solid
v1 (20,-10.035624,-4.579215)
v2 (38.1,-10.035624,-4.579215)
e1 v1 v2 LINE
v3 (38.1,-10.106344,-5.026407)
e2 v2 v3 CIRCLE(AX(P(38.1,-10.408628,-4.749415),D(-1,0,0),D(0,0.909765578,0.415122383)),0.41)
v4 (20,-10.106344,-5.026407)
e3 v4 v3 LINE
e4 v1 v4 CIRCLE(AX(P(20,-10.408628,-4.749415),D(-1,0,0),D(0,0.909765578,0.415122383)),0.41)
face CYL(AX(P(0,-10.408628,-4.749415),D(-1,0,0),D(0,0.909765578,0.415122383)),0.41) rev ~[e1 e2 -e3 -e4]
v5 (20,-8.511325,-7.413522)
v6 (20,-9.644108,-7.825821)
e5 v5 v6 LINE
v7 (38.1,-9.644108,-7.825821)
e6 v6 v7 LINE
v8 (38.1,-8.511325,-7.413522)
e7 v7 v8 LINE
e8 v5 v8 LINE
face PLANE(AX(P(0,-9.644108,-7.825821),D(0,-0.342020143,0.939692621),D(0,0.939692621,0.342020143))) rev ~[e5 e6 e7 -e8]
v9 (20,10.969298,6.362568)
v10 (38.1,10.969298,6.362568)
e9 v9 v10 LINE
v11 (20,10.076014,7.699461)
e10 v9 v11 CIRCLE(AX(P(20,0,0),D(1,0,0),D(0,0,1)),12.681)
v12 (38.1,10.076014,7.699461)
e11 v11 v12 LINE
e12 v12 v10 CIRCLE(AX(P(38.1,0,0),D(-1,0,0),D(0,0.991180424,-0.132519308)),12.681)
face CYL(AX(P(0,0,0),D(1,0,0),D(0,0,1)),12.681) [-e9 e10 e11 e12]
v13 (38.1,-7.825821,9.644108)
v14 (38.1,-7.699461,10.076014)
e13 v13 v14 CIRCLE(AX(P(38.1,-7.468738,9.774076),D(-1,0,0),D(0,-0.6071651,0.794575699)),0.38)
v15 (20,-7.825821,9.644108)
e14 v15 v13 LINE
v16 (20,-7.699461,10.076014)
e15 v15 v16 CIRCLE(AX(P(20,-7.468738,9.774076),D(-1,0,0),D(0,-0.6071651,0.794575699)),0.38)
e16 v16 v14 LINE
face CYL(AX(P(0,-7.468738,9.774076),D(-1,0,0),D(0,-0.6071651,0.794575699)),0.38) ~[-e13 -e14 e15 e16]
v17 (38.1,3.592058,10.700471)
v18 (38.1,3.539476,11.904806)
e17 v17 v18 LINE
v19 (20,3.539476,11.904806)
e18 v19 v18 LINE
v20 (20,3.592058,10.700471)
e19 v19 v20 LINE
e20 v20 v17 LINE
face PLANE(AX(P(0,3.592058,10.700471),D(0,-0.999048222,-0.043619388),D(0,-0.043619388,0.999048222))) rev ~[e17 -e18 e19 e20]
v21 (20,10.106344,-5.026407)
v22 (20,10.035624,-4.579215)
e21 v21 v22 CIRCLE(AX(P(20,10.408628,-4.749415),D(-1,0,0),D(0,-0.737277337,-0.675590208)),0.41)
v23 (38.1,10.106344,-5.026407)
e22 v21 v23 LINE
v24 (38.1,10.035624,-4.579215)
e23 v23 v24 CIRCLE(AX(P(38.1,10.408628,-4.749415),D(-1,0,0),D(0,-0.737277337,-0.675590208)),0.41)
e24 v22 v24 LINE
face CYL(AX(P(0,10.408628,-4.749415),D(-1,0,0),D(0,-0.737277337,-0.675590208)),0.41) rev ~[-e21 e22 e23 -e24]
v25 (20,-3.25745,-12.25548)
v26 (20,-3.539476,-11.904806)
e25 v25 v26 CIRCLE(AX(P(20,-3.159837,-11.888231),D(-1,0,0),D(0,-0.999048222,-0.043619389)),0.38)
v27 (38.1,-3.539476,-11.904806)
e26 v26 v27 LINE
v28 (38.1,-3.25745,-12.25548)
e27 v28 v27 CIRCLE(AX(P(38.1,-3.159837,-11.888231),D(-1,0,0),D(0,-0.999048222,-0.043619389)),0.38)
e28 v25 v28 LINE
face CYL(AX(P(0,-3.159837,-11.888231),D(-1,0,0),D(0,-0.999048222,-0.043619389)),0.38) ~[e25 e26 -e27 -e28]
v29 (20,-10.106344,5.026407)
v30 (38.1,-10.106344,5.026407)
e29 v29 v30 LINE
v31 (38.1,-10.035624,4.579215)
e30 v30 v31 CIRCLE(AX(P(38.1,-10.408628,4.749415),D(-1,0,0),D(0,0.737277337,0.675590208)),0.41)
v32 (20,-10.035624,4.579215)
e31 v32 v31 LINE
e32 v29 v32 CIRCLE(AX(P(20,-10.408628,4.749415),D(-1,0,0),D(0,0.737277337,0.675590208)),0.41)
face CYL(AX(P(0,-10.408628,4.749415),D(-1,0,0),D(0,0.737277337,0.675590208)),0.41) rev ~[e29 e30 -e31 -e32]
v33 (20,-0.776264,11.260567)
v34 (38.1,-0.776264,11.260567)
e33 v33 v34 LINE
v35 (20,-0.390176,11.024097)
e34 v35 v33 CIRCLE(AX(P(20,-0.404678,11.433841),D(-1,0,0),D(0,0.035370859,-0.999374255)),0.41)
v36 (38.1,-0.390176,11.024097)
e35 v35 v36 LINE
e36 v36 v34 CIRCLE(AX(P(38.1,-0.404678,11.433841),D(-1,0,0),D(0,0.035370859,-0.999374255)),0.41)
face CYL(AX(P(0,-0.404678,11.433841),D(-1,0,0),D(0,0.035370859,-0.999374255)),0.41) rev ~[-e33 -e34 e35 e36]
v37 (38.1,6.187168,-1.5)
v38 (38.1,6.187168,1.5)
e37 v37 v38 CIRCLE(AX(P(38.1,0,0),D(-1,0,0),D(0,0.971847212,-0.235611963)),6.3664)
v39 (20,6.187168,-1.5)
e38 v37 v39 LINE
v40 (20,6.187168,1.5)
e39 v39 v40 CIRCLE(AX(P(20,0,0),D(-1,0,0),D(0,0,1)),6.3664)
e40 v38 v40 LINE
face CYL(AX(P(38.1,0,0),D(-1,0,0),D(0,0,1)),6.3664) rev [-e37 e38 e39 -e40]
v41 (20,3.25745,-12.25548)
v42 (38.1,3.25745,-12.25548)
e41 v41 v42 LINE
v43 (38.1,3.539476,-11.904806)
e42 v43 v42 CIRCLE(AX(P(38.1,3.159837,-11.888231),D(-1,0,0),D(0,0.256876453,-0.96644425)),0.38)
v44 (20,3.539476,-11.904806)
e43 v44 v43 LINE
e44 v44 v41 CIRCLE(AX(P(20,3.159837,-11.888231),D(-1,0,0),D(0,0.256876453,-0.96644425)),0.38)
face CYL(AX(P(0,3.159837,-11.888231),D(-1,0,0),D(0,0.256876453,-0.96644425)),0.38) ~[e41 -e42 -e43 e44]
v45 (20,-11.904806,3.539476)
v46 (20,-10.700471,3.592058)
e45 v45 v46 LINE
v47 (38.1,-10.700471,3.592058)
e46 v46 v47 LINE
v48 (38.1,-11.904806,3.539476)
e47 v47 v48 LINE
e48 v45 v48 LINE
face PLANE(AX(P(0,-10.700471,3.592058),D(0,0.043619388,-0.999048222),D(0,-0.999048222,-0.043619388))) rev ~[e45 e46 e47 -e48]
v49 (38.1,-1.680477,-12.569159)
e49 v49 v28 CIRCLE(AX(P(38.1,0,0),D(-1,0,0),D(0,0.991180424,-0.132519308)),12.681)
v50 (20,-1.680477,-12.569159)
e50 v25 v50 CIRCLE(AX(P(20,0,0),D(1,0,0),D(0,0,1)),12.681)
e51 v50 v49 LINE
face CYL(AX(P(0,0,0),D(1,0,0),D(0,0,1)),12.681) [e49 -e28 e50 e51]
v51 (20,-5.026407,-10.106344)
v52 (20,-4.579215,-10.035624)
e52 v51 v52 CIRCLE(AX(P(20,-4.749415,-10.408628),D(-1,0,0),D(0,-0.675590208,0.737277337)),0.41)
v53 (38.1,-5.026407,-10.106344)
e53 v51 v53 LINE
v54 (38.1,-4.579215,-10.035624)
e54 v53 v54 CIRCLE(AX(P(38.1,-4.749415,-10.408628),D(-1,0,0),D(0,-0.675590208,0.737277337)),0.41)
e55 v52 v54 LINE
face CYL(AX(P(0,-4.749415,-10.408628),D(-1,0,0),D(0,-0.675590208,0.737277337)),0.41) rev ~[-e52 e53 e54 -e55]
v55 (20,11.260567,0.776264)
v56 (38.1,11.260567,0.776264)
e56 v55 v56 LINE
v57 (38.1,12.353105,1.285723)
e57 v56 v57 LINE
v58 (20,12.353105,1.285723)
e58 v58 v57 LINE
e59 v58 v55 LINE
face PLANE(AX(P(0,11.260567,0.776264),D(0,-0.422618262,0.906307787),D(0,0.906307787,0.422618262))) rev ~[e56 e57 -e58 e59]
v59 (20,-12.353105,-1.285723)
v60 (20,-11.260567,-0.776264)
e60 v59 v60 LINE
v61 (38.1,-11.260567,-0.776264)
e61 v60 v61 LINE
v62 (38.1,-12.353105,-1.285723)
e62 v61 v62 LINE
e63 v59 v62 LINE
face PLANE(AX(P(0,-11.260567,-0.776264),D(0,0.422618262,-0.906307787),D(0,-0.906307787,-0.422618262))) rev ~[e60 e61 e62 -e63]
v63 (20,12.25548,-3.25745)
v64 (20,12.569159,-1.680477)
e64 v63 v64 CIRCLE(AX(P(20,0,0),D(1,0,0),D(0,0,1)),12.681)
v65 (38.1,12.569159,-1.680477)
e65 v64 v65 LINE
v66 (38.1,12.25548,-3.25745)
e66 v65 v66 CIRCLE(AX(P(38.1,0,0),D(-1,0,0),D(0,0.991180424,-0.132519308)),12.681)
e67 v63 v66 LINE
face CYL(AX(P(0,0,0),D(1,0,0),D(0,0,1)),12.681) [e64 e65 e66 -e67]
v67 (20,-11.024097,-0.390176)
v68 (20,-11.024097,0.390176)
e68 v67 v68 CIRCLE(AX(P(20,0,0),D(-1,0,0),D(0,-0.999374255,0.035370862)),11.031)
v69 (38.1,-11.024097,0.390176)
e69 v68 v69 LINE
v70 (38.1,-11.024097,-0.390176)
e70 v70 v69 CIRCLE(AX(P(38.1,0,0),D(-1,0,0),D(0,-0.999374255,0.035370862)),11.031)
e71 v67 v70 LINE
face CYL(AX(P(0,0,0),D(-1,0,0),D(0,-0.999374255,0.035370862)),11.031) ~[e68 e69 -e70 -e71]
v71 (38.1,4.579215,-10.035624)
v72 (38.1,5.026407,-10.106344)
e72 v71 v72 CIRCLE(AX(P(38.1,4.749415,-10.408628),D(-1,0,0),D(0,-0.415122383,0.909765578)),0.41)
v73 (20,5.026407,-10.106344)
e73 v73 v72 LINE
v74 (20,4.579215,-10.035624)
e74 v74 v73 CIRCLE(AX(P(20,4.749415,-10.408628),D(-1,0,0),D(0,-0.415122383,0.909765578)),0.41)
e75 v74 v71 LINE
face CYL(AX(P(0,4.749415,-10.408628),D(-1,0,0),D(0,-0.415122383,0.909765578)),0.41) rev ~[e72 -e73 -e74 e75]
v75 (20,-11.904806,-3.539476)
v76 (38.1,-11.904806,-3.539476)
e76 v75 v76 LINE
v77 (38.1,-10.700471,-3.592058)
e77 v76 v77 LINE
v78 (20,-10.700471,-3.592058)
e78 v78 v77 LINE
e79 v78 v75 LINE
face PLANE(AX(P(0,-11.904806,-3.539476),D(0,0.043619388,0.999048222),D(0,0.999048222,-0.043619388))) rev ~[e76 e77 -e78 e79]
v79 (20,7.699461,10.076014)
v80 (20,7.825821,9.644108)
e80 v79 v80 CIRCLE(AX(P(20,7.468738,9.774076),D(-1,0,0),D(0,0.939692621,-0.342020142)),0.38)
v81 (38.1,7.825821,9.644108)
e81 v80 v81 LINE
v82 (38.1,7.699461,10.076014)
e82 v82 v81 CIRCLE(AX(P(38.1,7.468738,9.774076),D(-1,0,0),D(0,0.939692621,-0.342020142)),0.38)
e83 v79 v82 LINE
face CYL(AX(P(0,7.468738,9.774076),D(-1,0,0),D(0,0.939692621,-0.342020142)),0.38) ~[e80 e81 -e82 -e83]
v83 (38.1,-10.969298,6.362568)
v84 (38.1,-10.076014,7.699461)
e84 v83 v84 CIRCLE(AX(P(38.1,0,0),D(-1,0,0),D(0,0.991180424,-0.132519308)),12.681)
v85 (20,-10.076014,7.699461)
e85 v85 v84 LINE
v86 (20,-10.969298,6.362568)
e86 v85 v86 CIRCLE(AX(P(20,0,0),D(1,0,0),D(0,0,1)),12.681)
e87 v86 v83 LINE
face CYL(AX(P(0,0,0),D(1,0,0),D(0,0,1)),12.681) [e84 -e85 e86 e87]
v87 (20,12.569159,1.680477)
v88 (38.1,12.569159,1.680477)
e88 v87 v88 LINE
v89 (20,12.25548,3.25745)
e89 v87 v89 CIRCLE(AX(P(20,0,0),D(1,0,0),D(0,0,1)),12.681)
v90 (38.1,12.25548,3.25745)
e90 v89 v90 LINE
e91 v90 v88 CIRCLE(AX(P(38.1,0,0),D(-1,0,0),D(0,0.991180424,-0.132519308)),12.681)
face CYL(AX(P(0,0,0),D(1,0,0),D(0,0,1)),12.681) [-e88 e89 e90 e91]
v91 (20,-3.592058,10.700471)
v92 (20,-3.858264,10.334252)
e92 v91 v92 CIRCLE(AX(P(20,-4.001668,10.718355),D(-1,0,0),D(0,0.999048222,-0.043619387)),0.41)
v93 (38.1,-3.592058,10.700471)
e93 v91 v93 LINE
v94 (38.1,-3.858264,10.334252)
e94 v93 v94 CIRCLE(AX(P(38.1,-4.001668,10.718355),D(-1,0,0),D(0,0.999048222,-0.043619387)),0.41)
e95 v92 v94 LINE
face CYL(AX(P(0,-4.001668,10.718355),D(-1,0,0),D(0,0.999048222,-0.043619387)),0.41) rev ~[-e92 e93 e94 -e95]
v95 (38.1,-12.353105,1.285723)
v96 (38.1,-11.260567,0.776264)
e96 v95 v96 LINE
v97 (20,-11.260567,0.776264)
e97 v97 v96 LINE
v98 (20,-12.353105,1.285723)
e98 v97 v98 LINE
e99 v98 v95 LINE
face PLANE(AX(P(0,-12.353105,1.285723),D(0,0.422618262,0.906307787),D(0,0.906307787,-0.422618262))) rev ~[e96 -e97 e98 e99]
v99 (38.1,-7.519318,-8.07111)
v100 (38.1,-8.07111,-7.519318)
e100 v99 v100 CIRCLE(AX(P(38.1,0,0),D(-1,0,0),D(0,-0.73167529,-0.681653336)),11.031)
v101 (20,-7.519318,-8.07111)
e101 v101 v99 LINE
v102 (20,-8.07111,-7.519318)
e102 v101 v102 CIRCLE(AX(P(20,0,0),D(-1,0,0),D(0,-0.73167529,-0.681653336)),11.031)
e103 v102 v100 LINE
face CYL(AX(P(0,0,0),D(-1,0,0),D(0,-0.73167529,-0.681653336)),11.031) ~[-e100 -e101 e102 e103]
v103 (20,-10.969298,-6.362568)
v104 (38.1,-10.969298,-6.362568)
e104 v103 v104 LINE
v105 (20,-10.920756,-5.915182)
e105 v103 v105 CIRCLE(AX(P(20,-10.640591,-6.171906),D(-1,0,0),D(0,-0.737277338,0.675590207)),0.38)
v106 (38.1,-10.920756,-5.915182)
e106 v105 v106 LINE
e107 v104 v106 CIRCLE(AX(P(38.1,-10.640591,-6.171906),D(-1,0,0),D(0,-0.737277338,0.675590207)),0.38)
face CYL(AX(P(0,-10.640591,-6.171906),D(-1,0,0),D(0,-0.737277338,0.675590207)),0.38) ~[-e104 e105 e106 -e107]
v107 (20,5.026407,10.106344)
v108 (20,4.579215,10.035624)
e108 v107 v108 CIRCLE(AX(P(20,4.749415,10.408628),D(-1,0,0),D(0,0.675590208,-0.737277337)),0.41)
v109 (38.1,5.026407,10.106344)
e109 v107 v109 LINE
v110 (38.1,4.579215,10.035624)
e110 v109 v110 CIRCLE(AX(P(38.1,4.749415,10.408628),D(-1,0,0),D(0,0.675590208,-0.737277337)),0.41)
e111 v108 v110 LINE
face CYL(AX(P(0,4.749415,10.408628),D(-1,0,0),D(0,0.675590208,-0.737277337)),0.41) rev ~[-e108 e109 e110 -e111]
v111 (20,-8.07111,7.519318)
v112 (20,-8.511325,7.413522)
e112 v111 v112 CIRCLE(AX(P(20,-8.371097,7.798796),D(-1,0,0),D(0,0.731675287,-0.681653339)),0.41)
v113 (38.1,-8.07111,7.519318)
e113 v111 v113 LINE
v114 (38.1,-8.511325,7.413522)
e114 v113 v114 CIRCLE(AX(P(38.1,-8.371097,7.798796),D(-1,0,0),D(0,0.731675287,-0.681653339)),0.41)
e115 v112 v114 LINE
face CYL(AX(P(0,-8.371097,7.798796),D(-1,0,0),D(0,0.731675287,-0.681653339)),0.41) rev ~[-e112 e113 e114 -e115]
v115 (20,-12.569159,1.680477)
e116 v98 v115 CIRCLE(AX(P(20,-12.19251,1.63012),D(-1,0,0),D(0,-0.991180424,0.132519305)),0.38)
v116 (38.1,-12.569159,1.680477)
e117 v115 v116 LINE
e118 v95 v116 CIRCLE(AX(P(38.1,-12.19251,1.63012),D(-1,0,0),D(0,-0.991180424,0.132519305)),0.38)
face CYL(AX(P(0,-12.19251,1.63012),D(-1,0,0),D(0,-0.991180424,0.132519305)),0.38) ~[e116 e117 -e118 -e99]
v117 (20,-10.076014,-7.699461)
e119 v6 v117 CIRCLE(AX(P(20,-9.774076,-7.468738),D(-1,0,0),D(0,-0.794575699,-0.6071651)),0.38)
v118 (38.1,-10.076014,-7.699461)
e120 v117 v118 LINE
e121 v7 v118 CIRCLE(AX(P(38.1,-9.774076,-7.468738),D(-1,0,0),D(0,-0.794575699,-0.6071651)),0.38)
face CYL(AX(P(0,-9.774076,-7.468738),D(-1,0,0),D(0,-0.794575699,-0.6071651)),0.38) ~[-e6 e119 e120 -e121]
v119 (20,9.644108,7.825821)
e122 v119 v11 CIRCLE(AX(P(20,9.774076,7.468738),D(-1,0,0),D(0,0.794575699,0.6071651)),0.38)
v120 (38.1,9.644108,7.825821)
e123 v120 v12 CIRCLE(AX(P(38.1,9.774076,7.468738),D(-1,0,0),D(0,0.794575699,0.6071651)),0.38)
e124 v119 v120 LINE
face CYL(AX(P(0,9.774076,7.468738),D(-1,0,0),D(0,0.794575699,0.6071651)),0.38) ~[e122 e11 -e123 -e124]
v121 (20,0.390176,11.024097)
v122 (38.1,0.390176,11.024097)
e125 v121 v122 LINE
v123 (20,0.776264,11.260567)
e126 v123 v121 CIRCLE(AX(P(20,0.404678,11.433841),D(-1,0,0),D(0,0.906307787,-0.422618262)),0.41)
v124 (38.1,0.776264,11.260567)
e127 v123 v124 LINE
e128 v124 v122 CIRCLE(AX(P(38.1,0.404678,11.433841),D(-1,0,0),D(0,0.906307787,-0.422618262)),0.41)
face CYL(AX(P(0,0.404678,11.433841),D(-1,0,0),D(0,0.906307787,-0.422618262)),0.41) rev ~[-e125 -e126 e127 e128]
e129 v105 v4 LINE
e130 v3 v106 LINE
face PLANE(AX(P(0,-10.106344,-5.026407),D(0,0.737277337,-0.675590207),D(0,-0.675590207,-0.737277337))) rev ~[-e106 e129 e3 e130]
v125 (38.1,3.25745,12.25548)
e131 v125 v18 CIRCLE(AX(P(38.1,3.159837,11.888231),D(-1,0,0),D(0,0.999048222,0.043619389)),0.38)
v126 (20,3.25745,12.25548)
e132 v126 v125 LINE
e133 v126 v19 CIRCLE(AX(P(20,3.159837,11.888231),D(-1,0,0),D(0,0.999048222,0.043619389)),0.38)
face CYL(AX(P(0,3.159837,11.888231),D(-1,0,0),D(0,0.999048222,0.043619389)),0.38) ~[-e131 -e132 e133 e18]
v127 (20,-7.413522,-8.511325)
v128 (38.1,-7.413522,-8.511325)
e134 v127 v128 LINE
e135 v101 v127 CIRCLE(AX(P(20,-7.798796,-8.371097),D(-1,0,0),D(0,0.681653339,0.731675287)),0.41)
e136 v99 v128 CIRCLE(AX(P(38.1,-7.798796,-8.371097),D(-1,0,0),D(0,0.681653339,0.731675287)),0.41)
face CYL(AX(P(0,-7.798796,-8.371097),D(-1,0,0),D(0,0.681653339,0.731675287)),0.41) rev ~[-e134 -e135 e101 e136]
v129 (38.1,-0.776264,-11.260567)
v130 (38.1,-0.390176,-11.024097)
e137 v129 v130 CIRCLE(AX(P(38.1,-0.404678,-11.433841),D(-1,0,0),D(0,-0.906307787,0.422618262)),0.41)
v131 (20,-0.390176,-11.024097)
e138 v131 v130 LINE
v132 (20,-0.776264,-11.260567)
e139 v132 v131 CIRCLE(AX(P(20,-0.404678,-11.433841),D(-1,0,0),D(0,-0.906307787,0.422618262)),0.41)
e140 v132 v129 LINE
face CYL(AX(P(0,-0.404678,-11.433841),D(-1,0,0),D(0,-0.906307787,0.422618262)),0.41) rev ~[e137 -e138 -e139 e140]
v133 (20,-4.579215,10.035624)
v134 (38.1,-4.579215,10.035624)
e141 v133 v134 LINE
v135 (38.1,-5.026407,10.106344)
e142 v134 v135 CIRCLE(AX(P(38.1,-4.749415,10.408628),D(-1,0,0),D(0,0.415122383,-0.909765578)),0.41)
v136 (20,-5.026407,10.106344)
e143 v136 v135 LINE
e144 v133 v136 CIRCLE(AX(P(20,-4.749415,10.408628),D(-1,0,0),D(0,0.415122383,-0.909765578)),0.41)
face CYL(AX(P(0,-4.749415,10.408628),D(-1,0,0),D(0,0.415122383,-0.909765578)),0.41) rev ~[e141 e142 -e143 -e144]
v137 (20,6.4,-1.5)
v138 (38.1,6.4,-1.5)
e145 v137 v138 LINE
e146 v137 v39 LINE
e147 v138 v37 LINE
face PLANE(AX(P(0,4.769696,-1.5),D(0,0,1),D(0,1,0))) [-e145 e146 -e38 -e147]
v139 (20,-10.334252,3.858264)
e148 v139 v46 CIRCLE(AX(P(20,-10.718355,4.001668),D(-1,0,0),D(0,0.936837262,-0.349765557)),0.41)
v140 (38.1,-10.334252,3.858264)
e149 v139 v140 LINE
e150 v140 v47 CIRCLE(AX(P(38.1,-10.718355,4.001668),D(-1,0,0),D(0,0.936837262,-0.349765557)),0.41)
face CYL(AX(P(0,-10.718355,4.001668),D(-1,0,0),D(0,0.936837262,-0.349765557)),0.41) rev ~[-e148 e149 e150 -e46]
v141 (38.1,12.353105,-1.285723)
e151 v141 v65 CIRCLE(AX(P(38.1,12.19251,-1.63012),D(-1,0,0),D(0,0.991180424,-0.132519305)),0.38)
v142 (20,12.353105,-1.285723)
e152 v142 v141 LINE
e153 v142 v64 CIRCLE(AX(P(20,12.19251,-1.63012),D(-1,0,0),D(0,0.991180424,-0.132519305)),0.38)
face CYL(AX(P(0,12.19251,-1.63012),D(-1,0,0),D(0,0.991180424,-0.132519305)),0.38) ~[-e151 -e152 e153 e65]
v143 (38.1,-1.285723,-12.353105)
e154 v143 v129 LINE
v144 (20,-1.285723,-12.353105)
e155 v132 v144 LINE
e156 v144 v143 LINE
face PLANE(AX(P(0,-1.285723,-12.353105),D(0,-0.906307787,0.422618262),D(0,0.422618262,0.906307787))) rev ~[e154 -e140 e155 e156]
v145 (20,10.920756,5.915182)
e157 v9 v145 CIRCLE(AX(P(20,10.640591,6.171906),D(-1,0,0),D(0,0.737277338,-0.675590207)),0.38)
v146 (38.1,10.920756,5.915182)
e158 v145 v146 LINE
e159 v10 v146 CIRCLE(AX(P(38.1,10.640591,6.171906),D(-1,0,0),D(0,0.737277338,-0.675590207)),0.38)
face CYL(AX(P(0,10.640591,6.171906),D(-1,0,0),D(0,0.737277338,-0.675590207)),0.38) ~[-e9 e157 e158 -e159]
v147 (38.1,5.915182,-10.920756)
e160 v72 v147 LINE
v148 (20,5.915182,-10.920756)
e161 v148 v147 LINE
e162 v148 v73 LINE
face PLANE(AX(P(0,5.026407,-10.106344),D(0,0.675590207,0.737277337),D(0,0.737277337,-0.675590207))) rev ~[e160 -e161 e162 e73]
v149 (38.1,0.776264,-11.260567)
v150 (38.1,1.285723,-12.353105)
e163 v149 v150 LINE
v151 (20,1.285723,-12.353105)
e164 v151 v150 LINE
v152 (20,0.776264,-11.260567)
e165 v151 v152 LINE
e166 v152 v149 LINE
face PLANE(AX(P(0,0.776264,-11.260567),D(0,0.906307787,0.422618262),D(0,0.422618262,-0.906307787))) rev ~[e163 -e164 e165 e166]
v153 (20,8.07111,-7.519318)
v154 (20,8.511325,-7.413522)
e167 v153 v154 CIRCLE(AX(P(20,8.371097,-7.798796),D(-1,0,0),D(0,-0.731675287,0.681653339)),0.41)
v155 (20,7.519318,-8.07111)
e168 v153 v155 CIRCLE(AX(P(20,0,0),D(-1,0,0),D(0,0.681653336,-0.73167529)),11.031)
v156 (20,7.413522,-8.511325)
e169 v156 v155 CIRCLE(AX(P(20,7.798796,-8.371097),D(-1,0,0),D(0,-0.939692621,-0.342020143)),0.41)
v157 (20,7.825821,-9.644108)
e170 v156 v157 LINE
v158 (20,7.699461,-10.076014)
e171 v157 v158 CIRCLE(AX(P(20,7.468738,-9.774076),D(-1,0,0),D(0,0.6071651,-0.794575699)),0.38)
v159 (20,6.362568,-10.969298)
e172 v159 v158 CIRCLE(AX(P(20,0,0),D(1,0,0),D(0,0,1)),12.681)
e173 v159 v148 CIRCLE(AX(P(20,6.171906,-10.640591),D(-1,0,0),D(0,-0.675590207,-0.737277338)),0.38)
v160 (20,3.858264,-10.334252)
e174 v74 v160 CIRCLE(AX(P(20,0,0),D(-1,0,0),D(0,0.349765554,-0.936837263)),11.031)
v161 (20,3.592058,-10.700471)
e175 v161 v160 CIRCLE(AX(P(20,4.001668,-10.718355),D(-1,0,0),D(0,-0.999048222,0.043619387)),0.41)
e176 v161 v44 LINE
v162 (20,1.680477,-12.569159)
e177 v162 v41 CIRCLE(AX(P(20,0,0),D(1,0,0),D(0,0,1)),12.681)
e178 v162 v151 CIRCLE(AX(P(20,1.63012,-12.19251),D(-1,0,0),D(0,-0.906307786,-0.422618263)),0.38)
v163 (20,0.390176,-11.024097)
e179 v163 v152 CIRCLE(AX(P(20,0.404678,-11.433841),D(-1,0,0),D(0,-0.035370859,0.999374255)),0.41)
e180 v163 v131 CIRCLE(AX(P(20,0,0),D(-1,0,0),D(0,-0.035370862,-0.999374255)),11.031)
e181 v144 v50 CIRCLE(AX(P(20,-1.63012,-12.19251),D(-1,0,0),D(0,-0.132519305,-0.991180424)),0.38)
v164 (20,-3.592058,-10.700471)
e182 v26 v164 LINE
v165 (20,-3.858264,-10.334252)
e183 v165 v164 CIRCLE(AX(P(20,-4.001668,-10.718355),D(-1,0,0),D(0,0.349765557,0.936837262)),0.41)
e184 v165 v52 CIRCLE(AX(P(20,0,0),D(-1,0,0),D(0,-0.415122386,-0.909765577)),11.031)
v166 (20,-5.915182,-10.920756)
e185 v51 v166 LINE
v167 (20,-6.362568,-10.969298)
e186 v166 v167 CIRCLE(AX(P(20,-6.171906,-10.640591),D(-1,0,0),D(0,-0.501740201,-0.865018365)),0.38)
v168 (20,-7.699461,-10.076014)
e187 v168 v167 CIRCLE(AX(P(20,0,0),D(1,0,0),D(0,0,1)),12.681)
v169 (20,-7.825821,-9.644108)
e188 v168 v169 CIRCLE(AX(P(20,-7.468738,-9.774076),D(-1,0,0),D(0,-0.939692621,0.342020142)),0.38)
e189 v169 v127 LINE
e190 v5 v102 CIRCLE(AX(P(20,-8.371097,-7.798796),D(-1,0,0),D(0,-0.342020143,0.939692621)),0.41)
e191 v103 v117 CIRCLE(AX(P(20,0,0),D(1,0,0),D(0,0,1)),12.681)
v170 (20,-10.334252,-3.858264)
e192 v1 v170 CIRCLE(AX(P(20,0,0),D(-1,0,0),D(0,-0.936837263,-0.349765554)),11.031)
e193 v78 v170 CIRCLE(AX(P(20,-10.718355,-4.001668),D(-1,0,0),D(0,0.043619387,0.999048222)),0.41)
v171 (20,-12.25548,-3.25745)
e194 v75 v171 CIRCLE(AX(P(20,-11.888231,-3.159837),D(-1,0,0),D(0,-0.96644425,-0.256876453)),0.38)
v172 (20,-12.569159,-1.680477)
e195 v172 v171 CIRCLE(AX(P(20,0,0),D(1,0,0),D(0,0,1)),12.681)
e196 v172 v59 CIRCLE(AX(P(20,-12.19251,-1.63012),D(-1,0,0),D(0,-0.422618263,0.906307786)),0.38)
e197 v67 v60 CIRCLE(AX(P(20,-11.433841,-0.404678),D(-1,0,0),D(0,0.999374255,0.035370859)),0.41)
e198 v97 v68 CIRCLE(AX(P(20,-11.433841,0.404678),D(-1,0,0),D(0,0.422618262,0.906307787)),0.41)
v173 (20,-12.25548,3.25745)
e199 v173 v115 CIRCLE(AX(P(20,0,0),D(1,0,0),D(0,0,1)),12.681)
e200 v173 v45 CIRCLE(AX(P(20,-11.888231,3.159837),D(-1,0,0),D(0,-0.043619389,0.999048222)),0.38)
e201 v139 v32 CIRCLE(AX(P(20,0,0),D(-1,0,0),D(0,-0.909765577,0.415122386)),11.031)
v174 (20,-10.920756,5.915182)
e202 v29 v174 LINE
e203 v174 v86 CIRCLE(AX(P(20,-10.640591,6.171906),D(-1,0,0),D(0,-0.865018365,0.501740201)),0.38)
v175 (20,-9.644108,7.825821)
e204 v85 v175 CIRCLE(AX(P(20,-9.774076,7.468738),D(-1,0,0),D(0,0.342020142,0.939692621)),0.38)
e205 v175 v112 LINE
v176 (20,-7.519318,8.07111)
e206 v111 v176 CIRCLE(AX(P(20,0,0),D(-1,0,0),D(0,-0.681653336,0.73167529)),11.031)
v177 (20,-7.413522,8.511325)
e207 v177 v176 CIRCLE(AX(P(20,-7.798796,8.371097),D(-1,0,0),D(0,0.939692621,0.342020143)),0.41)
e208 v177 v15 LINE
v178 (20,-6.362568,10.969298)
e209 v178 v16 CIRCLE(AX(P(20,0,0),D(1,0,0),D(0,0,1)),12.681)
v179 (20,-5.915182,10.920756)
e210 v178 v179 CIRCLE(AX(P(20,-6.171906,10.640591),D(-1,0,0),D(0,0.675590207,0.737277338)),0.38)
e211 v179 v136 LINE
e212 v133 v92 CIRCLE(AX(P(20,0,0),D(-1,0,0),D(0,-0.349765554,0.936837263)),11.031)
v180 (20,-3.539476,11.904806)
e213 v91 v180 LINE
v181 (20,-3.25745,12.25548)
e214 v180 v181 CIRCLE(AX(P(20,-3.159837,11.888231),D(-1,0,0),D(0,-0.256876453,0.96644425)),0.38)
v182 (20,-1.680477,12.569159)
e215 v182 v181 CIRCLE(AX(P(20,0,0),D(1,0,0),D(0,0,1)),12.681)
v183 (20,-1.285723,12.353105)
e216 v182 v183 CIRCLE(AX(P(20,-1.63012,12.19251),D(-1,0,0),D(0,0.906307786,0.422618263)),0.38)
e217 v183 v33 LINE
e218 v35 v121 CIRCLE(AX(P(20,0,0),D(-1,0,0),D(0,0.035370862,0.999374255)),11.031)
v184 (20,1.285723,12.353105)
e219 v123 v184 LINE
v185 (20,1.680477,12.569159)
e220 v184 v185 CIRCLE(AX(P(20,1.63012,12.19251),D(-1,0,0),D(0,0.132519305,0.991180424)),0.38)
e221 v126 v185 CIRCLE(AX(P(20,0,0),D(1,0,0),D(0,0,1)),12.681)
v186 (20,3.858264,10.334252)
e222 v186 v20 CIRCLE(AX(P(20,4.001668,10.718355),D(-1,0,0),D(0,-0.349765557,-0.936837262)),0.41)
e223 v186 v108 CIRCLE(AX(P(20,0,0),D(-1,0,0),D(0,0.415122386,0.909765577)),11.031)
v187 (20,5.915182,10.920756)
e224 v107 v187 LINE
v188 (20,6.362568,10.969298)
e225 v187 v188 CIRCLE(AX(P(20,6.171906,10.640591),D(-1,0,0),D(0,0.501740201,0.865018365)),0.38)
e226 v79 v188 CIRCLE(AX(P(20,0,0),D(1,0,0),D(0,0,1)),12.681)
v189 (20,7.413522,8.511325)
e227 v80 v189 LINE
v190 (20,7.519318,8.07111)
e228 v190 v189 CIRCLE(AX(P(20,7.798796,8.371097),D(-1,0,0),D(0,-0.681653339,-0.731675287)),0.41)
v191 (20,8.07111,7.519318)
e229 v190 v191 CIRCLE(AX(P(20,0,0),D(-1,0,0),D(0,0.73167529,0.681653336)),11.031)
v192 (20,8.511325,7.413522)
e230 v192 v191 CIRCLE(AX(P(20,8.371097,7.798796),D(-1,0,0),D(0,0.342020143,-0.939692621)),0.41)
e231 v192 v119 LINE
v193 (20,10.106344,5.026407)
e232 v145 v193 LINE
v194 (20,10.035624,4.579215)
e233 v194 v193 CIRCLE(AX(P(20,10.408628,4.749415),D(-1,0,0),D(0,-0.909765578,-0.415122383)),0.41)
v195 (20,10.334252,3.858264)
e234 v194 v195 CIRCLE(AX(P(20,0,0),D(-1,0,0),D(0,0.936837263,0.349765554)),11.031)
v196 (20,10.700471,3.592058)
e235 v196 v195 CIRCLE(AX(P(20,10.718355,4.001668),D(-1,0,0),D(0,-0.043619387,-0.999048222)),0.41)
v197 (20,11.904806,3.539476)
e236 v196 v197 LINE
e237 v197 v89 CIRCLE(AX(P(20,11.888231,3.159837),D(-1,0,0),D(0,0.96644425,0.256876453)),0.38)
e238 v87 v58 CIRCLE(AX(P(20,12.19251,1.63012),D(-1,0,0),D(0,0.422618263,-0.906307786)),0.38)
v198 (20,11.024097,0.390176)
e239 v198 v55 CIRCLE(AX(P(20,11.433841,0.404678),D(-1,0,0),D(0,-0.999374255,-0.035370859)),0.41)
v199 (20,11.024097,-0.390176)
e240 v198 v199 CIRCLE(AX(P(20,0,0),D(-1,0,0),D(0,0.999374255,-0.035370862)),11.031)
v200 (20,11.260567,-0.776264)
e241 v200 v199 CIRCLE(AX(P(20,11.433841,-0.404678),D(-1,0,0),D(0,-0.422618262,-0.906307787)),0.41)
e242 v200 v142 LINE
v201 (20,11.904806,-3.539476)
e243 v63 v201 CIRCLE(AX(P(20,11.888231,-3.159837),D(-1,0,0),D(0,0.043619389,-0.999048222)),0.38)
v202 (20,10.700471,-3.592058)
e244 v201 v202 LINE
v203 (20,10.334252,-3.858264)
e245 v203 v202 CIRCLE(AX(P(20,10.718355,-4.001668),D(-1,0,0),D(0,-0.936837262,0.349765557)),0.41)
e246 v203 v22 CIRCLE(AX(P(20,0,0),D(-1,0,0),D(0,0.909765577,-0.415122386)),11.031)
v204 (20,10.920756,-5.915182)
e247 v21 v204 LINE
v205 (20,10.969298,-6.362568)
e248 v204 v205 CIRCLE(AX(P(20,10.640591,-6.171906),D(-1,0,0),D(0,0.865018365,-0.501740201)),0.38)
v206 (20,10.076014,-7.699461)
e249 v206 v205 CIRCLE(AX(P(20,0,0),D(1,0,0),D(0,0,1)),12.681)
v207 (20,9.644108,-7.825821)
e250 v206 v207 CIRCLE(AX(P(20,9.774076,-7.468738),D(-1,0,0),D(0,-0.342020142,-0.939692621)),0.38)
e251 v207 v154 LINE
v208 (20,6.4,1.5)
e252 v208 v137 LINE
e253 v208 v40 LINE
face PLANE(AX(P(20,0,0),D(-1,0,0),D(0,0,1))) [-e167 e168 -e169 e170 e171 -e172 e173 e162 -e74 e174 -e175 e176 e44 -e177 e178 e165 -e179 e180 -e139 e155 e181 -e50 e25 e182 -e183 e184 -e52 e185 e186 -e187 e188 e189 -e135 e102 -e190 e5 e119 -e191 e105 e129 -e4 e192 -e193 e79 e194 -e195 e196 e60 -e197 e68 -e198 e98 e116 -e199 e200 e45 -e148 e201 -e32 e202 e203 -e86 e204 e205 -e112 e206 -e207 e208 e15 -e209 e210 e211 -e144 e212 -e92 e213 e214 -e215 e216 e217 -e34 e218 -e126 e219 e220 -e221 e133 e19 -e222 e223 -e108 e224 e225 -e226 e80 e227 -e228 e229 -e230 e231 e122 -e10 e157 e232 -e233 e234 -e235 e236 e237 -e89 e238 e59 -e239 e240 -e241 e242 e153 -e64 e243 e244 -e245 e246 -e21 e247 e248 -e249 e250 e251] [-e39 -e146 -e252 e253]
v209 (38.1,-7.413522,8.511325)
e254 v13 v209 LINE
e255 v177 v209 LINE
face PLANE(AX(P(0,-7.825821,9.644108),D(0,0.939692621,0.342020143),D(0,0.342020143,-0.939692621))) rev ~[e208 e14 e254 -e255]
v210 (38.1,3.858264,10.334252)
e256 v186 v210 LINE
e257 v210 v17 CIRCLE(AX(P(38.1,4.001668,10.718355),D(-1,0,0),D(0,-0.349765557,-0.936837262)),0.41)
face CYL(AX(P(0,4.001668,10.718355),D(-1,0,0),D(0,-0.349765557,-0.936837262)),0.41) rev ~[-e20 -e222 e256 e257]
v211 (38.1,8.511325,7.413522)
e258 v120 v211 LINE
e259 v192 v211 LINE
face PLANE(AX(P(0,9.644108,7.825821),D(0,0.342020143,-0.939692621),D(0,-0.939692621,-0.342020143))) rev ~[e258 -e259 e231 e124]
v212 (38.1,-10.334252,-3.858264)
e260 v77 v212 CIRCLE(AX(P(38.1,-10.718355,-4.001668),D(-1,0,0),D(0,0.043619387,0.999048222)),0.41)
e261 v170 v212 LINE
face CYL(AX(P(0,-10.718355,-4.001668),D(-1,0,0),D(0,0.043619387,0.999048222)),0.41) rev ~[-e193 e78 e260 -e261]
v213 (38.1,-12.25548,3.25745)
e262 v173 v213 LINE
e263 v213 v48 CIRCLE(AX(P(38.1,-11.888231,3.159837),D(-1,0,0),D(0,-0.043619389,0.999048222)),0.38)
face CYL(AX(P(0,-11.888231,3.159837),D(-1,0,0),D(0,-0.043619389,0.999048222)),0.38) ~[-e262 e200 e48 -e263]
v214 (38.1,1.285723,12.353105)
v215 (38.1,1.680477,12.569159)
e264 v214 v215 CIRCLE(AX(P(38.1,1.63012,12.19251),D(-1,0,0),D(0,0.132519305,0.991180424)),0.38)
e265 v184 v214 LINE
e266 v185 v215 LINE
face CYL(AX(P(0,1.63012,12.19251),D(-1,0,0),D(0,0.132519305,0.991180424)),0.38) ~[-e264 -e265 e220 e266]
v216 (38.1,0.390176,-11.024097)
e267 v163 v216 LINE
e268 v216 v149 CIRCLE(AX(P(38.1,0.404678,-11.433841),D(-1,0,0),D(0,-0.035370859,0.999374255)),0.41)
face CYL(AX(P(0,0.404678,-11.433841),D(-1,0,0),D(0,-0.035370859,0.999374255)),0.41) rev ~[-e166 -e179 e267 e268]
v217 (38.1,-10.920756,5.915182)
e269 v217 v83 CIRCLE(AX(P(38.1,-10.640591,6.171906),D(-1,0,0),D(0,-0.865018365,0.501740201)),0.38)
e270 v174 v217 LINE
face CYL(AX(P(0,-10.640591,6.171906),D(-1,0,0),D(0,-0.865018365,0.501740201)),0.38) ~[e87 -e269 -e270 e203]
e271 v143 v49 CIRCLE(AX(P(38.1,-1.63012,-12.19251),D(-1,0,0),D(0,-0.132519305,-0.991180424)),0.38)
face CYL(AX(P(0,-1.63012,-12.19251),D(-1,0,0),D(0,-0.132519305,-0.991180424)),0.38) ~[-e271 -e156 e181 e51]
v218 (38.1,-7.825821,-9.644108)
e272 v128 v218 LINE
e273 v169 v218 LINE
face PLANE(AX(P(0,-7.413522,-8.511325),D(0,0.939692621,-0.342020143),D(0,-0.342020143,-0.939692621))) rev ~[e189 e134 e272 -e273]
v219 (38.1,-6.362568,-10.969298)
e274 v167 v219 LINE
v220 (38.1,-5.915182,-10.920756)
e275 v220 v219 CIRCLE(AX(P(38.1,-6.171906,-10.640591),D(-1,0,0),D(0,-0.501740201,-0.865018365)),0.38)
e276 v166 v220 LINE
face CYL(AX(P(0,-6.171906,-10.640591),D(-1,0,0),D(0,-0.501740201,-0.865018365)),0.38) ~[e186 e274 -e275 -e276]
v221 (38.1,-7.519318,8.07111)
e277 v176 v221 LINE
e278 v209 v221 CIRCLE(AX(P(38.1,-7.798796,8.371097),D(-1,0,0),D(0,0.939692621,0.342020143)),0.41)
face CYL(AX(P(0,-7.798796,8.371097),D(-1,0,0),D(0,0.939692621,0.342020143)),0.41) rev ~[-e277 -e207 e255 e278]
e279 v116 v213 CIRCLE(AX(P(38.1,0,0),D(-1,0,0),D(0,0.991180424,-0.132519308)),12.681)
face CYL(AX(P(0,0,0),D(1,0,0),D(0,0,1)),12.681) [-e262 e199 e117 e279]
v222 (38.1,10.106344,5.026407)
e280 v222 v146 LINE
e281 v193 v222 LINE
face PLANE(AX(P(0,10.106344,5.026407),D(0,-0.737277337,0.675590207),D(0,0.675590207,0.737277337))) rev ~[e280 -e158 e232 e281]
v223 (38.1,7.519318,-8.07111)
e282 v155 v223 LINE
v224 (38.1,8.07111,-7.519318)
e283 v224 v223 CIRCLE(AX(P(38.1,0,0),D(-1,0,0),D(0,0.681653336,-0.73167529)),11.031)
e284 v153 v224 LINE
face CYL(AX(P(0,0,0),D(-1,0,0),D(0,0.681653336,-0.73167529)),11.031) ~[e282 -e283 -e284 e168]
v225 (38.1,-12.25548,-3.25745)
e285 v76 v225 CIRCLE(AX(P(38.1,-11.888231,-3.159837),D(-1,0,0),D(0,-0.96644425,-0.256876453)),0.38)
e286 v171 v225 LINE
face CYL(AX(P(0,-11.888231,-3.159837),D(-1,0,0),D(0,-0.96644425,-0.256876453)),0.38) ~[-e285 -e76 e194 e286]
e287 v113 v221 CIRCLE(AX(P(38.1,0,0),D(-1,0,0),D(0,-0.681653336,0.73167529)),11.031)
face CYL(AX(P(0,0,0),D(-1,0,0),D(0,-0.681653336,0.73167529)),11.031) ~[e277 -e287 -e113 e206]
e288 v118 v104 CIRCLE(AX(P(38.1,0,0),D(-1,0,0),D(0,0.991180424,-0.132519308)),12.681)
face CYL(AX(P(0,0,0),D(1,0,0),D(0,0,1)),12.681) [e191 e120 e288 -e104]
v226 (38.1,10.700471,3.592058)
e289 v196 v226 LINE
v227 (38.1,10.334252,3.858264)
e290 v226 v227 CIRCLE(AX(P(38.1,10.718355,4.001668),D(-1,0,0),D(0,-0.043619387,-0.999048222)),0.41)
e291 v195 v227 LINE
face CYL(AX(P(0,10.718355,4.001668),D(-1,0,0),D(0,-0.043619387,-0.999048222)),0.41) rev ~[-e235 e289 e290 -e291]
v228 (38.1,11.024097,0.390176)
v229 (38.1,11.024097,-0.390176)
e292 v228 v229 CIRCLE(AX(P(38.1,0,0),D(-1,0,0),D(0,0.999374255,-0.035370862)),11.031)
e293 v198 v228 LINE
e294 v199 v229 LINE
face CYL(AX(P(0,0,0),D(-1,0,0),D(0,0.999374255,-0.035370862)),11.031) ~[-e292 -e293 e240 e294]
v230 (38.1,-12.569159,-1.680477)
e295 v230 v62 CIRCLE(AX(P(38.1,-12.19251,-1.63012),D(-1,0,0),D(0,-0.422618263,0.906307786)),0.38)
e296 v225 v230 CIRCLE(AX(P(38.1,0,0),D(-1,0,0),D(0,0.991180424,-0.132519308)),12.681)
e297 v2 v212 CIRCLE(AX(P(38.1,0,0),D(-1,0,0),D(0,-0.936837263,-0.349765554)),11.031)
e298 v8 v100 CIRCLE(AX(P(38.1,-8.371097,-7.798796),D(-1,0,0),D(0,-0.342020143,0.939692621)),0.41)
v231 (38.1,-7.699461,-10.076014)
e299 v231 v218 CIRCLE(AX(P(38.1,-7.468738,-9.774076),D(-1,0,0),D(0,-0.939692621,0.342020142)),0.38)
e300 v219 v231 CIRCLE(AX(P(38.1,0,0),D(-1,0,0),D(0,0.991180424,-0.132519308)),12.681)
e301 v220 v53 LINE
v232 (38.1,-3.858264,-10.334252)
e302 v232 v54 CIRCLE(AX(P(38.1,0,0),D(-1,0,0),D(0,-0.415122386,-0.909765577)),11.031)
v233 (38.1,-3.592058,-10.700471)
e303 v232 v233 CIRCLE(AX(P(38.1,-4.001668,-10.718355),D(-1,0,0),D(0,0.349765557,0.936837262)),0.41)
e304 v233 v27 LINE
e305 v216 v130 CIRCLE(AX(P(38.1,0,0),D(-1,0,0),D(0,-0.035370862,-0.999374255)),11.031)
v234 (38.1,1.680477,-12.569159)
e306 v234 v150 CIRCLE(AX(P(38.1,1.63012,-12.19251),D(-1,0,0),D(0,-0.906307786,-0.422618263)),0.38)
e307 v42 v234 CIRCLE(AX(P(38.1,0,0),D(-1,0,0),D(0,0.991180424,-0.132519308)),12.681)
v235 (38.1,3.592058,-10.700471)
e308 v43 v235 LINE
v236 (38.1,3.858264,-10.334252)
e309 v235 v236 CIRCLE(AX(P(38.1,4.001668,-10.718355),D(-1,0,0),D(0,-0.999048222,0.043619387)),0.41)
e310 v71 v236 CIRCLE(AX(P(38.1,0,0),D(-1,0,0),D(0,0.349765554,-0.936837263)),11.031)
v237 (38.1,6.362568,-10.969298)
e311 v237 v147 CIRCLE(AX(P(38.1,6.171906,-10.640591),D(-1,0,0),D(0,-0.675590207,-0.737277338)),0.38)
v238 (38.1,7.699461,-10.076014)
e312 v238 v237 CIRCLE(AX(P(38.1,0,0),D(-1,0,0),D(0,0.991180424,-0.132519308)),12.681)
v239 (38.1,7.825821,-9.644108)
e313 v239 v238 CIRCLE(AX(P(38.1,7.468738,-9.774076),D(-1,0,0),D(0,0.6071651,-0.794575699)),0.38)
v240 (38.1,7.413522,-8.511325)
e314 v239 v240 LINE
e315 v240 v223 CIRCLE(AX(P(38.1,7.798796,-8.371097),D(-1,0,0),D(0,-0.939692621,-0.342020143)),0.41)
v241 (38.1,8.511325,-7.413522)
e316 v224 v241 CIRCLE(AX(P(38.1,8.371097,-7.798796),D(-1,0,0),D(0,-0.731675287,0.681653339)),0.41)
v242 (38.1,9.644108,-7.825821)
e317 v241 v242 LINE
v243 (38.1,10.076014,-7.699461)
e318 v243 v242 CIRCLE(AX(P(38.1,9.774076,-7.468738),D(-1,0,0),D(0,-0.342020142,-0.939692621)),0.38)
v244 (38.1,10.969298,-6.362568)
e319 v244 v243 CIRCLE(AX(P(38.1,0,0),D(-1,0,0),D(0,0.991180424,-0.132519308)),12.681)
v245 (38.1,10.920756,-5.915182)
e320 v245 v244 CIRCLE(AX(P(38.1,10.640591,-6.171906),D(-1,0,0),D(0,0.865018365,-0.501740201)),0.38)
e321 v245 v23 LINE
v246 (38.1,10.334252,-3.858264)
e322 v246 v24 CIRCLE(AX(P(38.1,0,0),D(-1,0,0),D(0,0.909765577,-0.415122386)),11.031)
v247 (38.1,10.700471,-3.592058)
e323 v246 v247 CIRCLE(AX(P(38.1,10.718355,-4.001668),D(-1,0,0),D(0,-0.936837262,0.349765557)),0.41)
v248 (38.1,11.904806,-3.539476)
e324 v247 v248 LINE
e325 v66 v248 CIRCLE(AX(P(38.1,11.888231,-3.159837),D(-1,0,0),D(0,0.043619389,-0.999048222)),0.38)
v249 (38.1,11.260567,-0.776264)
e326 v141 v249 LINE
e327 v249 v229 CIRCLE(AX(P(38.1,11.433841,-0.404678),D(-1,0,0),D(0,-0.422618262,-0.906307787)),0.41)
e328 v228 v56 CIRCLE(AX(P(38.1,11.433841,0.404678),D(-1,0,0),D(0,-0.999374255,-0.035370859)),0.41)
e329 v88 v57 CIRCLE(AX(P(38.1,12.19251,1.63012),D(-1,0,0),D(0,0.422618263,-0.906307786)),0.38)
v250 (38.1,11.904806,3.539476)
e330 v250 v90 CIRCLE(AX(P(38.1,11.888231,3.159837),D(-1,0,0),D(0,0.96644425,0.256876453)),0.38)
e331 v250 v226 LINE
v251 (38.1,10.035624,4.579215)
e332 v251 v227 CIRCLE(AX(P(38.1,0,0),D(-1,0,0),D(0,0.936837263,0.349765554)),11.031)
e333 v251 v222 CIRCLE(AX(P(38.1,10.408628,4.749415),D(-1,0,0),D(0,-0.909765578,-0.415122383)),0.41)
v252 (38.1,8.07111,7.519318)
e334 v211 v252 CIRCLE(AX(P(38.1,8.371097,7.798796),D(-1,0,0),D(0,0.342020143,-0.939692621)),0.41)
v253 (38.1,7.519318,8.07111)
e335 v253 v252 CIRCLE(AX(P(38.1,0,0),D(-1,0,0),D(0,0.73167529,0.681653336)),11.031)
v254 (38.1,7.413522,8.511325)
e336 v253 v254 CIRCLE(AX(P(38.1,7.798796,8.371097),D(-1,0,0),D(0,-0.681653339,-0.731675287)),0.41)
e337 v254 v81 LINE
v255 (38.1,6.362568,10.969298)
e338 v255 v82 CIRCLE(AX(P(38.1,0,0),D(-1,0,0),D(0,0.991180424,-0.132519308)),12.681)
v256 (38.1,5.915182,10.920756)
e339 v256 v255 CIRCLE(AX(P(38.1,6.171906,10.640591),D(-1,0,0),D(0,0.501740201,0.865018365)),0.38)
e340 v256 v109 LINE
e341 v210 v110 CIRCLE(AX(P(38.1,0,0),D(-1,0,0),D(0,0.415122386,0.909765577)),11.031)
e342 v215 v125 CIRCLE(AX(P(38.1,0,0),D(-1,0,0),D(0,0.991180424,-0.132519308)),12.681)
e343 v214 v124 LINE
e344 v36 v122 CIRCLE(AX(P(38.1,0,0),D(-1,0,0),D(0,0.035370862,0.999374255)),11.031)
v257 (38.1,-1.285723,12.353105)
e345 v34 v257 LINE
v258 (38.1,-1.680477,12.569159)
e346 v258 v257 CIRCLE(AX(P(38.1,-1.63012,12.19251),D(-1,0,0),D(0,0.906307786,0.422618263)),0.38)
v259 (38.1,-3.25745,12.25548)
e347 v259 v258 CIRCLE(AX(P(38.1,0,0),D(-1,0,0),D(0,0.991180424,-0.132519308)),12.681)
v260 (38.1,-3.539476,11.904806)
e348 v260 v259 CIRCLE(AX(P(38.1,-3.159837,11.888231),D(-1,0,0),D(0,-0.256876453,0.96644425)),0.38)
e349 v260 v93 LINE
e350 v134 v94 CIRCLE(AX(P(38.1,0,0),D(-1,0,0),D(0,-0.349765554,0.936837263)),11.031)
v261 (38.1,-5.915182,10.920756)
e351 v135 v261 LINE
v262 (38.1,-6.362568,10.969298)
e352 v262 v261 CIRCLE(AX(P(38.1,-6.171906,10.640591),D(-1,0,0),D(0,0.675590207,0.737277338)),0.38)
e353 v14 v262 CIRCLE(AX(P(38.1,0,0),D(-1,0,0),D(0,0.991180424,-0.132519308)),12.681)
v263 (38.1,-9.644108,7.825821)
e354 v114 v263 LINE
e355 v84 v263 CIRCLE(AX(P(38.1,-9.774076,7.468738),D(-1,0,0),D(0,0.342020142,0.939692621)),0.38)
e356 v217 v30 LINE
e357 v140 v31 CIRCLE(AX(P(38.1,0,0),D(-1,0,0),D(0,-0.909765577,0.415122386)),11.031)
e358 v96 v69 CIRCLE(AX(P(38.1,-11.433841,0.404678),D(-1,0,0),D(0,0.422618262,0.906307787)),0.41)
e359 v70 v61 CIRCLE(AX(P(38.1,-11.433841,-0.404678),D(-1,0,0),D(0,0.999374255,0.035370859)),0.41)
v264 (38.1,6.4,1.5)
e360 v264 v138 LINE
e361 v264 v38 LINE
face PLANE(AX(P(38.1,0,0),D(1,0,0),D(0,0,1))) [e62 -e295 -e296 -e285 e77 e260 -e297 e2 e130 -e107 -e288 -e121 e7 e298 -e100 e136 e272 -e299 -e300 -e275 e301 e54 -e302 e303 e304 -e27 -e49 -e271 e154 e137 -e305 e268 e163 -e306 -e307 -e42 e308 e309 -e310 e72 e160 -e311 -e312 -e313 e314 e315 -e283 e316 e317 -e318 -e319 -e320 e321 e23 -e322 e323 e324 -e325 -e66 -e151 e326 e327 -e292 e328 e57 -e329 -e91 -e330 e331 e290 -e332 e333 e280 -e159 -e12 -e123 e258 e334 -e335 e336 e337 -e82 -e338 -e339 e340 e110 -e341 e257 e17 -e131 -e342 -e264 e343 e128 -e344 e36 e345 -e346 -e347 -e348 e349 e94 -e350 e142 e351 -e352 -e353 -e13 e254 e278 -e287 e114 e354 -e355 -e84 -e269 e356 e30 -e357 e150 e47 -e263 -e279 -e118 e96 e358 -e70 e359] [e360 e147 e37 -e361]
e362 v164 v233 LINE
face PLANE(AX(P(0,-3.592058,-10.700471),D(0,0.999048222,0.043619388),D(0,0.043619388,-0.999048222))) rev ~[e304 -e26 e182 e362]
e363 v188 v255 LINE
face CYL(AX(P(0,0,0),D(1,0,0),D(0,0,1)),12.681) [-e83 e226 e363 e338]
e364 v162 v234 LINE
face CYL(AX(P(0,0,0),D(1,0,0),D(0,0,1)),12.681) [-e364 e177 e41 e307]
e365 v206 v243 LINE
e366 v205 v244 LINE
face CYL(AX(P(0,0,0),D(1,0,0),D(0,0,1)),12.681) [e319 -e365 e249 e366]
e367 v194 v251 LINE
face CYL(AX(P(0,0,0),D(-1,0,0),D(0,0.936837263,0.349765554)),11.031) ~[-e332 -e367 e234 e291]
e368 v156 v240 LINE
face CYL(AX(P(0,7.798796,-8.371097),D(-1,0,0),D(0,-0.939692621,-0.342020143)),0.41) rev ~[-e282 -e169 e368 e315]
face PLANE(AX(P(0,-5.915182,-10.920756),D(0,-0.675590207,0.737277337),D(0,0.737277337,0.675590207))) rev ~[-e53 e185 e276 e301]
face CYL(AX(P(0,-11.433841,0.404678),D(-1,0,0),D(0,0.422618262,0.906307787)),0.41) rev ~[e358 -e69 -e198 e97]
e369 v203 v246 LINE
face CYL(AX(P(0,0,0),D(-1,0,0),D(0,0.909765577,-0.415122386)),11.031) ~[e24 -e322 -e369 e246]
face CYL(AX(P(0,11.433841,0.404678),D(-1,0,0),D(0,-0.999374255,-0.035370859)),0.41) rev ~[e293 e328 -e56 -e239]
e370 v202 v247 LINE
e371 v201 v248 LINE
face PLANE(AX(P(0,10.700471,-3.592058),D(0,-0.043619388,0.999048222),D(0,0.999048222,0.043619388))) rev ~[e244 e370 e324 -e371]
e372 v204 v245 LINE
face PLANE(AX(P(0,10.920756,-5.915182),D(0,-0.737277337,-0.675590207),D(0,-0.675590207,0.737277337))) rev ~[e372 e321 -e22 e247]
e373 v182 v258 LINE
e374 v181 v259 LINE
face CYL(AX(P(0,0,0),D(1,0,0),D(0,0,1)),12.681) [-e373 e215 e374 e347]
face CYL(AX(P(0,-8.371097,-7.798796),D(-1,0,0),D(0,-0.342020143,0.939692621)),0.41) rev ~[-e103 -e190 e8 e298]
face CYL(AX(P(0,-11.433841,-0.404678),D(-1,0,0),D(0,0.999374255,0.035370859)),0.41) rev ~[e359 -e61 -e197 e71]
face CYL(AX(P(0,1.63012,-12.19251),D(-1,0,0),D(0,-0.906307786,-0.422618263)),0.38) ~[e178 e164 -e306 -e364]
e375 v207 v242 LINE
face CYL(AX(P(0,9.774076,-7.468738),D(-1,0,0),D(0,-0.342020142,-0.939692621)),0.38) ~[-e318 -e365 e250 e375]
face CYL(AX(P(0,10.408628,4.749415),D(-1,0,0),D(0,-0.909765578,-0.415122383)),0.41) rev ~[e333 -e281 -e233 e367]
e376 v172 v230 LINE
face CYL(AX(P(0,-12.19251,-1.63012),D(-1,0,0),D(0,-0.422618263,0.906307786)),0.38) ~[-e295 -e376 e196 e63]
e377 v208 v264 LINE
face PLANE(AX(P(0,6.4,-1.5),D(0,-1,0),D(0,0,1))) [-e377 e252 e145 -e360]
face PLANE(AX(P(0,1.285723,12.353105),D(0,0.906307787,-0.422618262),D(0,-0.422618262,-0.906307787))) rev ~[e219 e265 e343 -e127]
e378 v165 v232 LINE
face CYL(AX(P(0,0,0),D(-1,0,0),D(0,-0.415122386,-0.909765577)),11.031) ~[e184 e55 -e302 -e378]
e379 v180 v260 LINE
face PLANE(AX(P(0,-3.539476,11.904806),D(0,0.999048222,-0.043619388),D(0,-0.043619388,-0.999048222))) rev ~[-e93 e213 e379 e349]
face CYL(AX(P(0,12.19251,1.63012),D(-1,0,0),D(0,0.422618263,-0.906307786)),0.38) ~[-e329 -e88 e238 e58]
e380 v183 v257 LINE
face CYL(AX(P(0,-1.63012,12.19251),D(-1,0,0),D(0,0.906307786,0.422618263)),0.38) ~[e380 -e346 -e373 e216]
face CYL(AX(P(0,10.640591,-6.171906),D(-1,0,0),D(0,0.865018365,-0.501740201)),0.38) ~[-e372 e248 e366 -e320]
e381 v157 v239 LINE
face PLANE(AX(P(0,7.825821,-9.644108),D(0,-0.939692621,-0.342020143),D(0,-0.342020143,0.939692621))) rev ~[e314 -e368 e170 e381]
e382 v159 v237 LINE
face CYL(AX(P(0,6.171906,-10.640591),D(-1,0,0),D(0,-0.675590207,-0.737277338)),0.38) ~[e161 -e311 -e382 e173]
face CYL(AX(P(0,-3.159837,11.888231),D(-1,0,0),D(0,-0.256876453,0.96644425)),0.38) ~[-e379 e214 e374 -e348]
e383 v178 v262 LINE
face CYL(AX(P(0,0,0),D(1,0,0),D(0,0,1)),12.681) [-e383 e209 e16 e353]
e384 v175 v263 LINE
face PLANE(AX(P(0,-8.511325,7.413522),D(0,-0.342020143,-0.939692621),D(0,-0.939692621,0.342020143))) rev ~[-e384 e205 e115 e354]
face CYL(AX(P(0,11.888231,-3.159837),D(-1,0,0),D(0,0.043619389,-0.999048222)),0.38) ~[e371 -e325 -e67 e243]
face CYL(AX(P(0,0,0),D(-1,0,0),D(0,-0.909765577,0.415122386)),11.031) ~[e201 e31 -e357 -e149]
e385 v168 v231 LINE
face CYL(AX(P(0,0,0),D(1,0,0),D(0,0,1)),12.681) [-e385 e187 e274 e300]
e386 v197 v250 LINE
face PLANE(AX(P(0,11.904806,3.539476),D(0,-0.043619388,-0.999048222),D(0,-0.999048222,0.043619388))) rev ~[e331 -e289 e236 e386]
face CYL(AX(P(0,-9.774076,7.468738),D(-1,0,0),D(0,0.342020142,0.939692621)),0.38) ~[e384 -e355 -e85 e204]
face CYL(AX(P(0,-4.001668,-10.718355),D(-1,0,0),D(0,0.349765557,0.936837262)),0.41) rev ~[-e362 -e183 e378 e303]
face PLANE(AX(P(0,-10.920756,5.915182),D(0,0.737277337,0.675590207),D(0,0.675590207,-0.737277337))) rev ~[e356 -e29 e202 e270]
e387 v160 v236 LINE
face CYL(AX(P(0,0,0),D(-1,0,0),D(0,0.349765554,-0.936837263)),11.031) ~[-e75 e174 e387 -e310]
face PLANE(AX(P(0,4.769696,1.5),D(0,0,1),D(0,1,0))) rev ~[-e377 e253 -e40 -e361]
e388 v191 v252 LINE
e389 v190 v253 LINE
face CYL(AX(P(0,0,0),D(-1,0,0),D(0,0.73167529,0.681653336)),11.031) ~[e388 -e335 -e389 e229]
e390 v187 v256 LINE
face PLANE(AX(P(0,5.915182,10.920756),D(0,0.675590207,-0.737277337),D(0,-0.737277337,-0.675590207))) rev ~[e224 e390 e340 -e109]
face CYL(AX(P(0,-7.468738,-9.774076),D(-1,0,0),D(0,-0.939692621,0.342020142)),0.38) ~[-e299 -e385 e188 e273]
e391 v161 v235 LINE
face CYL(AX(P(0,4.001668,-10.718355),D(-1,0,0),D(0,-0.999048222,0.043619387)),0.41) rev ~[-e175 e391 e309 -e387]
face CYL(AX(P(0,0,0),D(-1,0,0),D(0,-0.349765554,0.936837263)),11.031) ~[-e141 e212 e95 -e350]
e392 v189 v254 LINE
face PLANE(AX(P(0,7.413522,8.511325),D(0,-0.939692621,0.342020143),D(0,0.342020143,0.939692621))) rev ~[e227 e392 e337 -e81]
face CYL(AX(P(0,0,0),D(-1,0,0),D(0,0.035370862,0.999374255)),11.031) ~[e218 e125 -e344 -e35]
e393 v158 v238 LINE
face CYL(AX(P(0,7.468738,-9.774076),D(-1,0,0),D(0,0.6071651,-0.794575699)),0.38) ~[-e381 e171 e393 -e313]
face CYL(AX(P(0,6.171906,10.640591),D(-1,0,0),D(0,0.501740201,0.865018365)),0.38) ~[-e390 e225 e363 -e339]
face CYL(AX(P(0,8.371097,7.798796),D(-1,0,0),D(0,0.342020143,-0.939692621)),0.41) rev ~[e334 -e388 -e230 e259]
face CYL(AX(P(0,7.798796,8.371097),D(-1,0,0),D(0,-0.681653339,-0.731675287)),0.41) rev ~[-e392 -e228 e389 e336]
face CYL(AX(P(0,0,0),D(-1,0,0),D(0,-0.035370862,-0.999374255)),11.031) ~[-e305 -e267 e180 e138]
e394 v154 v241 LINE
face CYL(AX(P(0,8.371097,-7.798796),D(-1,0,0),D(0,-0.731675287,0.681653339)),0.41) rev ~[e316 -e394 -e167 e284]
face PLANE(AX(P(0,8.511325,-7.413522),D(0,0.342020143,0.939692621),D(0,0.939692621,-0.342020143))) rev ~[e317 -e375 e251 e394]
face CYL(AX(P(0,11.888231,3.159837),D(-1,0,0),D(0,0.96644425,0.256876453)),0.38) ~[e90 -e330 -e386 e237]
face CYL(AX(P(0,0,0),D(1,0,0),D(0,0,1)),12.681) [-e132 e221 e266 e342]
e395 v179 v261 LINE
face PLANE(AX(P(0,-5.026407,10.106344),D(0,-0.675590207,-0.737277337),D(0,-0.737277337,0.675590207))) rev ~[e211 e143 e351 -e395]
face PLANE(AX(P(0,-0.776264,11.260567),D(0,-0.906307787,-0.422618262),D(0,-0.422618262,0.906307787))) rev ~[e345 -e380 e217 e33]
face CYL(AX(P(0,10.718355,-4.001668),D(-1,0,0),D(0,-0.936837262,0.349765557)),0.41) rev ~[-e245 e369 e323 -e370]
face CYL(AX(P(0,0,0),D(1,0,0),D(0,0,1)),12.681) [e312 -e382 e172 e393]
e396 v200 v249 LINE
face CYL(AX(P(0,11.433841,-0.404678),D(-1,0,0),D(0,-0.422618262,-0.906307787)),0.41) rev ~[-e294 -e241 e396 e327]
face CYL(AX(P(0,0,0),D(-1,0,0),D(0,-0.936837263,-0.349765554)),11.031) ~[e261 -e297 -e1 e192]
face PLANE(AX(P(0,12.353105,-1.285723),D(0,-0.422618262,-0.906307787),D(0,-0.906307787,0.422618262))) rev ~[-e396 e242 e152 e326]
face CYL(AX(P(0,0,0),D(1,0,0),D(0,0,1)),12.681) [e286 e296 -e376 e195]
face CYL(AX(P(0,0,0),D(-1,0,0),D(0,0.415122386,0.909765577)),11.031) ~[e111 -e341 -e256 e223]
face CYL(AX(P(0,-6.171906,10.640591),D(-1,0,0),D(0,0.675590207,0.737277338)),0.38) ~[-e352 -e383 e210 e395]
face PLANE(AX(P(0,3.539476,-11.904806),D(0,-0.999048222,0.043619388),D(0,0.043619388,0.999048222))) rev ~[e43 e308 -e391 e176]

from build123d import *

# Parameters (mm, degrees)
CHAMFER_1_SIZE           = 1
SKETCH_4_W               = 3
SKETCH_4_H               = 1.630303969
CUT_EXTRUDE_1_DEPTH      = 43.109684421
CUT_EXTRUDE_2_REACH      = 44.11
PATTERN_CIRCULAR_3_COUNT = 16
SKETCH_7_R               = 23.358425388
CUT_EXTRUDE_3_DEPTH      = 20


with BuildPart() as part:
    # 草图1 → 旋转1 (revolve)
    with BuildSketch(Plane.XY):
        Polygon((0, 5), (0, 12.681), (38.1, 12.681), (38.1, 6.3664), (6.65, 6.3664), (6.65, 5), align=None)
    revolve(axis=Axis((0, 0, 0), (1, 0, 0)))

    # 倒角1
    chamfer_1_edges = [part.edges().sort_by_distance(p)[0] for p in [
        (6.65, -5, 0),
        (0, -5, 0),
    ]]
    chamfer(chamfer_1_edges, length=CHAMFER_1_SIZE)

    # 草图4 → 切除-拉伸1 (cut, through all)
    with BuildSketch(Plane.ZY):
        with Locations((0, 5.584847992)):
            Rectangle(SKETCH_4_W, SKETCH_4_H)
    extrude(amount=-CUT_EXTRUDE_1_DEPTH, mode=Mode.SUBTRACT)

    # 草图6 → 切除-拉伸2 (cut, up to next)
    with BuildSketch(Plane(origin=(0, 0, 0), x_dir=(0, 0, -1), z_dir=(1, 0, 0)), mode=Mode.PRIVATE) as cut_extrude_2_sk1:
        with BuildLine():
            Line((1.285723043, 12.353105336), (0.776264221, 11.260567368))
            ThreePointArc((0.776264221, 11.260567368), (0.618819992, 11.084207877), (0.390175975, 11.02409741))
            ThreePointArc((0.390175975, 11.02409741), (0, 11.031), (-0.390175975, 11.02409741))
            ThreePointArc((-0.390175975, 11.02409741), (-0.618819992, 11.084207877), (-0.776264221, 11.260567368))
            Line((-0.776264221, 11.260567368), (-1.285723043, 12.353105336))
            ThreePointArc((-1.285723043, 12.353105336), (-1.447679281, 12.525850138), (-1.680477339, 12.569158958))
            ThreePointArc((-1.680477339, 12.569158958), (-1.868612982, 12.542569375), (-2.056329114, 12.513163931))
            Line((-2.056329114, 12.513163931), (-2.671802841, 13.8330516))
            ThreePointArc((-2.671802841, 13.8330516), (0, 14.088713461), (2.671802841, 13.8330516))
            Line((2.671802841, 13.8330516), (2.056329114, 12.513163931))
            ThreePointArc((2.056329114, 12.513163931), (1.868612982, 12.542569375), (1.680477339, 12.569158958))
            ThreePointArc((1.680477339, 12.569158958), (1.447679281, 12.525850138), (1.285723043, 12.353105336))
        make_face()
    cut_extrude_2_tool1 = extrude(cut_extrude_2_sk1.sketch, amount=CUT_EXTRUDE_2_REACH, mode=Mode.PRIVATE) & part.part
    cut_extrude_2 = cut_extrude_2_tool1.solids().sort_by_distance((0, 12.873618, 0))[0]
    add(cut_extrude_2, mode=Mode.SUBTRACT)

    # 阵列(圆周)3: 切除-拉伸2 ×16 about axis
    pattern_circular_3_axis = Axis((-1.4, 0, 0), (1, 0, 0))
    for i in range(1, PATTERN_CIRCULAR_3_COUNT):
        add(cut_extrude_2.rotate(pattern_circular_3_axis, i * 360 / PATTERN_CIRCULAR_3_COUNT), mode=Mode.SUBTRACT)

    # 草图7 → 切除-拉伸3 (cut)
    with BuildSketch(Plane.ZY):
        Circle(SKETCH_7_R)
    extrude(amount=-CUT_EXTRUDE_3_DEPTH, mode=Mode.SUBTRACT)


solid = part.part
